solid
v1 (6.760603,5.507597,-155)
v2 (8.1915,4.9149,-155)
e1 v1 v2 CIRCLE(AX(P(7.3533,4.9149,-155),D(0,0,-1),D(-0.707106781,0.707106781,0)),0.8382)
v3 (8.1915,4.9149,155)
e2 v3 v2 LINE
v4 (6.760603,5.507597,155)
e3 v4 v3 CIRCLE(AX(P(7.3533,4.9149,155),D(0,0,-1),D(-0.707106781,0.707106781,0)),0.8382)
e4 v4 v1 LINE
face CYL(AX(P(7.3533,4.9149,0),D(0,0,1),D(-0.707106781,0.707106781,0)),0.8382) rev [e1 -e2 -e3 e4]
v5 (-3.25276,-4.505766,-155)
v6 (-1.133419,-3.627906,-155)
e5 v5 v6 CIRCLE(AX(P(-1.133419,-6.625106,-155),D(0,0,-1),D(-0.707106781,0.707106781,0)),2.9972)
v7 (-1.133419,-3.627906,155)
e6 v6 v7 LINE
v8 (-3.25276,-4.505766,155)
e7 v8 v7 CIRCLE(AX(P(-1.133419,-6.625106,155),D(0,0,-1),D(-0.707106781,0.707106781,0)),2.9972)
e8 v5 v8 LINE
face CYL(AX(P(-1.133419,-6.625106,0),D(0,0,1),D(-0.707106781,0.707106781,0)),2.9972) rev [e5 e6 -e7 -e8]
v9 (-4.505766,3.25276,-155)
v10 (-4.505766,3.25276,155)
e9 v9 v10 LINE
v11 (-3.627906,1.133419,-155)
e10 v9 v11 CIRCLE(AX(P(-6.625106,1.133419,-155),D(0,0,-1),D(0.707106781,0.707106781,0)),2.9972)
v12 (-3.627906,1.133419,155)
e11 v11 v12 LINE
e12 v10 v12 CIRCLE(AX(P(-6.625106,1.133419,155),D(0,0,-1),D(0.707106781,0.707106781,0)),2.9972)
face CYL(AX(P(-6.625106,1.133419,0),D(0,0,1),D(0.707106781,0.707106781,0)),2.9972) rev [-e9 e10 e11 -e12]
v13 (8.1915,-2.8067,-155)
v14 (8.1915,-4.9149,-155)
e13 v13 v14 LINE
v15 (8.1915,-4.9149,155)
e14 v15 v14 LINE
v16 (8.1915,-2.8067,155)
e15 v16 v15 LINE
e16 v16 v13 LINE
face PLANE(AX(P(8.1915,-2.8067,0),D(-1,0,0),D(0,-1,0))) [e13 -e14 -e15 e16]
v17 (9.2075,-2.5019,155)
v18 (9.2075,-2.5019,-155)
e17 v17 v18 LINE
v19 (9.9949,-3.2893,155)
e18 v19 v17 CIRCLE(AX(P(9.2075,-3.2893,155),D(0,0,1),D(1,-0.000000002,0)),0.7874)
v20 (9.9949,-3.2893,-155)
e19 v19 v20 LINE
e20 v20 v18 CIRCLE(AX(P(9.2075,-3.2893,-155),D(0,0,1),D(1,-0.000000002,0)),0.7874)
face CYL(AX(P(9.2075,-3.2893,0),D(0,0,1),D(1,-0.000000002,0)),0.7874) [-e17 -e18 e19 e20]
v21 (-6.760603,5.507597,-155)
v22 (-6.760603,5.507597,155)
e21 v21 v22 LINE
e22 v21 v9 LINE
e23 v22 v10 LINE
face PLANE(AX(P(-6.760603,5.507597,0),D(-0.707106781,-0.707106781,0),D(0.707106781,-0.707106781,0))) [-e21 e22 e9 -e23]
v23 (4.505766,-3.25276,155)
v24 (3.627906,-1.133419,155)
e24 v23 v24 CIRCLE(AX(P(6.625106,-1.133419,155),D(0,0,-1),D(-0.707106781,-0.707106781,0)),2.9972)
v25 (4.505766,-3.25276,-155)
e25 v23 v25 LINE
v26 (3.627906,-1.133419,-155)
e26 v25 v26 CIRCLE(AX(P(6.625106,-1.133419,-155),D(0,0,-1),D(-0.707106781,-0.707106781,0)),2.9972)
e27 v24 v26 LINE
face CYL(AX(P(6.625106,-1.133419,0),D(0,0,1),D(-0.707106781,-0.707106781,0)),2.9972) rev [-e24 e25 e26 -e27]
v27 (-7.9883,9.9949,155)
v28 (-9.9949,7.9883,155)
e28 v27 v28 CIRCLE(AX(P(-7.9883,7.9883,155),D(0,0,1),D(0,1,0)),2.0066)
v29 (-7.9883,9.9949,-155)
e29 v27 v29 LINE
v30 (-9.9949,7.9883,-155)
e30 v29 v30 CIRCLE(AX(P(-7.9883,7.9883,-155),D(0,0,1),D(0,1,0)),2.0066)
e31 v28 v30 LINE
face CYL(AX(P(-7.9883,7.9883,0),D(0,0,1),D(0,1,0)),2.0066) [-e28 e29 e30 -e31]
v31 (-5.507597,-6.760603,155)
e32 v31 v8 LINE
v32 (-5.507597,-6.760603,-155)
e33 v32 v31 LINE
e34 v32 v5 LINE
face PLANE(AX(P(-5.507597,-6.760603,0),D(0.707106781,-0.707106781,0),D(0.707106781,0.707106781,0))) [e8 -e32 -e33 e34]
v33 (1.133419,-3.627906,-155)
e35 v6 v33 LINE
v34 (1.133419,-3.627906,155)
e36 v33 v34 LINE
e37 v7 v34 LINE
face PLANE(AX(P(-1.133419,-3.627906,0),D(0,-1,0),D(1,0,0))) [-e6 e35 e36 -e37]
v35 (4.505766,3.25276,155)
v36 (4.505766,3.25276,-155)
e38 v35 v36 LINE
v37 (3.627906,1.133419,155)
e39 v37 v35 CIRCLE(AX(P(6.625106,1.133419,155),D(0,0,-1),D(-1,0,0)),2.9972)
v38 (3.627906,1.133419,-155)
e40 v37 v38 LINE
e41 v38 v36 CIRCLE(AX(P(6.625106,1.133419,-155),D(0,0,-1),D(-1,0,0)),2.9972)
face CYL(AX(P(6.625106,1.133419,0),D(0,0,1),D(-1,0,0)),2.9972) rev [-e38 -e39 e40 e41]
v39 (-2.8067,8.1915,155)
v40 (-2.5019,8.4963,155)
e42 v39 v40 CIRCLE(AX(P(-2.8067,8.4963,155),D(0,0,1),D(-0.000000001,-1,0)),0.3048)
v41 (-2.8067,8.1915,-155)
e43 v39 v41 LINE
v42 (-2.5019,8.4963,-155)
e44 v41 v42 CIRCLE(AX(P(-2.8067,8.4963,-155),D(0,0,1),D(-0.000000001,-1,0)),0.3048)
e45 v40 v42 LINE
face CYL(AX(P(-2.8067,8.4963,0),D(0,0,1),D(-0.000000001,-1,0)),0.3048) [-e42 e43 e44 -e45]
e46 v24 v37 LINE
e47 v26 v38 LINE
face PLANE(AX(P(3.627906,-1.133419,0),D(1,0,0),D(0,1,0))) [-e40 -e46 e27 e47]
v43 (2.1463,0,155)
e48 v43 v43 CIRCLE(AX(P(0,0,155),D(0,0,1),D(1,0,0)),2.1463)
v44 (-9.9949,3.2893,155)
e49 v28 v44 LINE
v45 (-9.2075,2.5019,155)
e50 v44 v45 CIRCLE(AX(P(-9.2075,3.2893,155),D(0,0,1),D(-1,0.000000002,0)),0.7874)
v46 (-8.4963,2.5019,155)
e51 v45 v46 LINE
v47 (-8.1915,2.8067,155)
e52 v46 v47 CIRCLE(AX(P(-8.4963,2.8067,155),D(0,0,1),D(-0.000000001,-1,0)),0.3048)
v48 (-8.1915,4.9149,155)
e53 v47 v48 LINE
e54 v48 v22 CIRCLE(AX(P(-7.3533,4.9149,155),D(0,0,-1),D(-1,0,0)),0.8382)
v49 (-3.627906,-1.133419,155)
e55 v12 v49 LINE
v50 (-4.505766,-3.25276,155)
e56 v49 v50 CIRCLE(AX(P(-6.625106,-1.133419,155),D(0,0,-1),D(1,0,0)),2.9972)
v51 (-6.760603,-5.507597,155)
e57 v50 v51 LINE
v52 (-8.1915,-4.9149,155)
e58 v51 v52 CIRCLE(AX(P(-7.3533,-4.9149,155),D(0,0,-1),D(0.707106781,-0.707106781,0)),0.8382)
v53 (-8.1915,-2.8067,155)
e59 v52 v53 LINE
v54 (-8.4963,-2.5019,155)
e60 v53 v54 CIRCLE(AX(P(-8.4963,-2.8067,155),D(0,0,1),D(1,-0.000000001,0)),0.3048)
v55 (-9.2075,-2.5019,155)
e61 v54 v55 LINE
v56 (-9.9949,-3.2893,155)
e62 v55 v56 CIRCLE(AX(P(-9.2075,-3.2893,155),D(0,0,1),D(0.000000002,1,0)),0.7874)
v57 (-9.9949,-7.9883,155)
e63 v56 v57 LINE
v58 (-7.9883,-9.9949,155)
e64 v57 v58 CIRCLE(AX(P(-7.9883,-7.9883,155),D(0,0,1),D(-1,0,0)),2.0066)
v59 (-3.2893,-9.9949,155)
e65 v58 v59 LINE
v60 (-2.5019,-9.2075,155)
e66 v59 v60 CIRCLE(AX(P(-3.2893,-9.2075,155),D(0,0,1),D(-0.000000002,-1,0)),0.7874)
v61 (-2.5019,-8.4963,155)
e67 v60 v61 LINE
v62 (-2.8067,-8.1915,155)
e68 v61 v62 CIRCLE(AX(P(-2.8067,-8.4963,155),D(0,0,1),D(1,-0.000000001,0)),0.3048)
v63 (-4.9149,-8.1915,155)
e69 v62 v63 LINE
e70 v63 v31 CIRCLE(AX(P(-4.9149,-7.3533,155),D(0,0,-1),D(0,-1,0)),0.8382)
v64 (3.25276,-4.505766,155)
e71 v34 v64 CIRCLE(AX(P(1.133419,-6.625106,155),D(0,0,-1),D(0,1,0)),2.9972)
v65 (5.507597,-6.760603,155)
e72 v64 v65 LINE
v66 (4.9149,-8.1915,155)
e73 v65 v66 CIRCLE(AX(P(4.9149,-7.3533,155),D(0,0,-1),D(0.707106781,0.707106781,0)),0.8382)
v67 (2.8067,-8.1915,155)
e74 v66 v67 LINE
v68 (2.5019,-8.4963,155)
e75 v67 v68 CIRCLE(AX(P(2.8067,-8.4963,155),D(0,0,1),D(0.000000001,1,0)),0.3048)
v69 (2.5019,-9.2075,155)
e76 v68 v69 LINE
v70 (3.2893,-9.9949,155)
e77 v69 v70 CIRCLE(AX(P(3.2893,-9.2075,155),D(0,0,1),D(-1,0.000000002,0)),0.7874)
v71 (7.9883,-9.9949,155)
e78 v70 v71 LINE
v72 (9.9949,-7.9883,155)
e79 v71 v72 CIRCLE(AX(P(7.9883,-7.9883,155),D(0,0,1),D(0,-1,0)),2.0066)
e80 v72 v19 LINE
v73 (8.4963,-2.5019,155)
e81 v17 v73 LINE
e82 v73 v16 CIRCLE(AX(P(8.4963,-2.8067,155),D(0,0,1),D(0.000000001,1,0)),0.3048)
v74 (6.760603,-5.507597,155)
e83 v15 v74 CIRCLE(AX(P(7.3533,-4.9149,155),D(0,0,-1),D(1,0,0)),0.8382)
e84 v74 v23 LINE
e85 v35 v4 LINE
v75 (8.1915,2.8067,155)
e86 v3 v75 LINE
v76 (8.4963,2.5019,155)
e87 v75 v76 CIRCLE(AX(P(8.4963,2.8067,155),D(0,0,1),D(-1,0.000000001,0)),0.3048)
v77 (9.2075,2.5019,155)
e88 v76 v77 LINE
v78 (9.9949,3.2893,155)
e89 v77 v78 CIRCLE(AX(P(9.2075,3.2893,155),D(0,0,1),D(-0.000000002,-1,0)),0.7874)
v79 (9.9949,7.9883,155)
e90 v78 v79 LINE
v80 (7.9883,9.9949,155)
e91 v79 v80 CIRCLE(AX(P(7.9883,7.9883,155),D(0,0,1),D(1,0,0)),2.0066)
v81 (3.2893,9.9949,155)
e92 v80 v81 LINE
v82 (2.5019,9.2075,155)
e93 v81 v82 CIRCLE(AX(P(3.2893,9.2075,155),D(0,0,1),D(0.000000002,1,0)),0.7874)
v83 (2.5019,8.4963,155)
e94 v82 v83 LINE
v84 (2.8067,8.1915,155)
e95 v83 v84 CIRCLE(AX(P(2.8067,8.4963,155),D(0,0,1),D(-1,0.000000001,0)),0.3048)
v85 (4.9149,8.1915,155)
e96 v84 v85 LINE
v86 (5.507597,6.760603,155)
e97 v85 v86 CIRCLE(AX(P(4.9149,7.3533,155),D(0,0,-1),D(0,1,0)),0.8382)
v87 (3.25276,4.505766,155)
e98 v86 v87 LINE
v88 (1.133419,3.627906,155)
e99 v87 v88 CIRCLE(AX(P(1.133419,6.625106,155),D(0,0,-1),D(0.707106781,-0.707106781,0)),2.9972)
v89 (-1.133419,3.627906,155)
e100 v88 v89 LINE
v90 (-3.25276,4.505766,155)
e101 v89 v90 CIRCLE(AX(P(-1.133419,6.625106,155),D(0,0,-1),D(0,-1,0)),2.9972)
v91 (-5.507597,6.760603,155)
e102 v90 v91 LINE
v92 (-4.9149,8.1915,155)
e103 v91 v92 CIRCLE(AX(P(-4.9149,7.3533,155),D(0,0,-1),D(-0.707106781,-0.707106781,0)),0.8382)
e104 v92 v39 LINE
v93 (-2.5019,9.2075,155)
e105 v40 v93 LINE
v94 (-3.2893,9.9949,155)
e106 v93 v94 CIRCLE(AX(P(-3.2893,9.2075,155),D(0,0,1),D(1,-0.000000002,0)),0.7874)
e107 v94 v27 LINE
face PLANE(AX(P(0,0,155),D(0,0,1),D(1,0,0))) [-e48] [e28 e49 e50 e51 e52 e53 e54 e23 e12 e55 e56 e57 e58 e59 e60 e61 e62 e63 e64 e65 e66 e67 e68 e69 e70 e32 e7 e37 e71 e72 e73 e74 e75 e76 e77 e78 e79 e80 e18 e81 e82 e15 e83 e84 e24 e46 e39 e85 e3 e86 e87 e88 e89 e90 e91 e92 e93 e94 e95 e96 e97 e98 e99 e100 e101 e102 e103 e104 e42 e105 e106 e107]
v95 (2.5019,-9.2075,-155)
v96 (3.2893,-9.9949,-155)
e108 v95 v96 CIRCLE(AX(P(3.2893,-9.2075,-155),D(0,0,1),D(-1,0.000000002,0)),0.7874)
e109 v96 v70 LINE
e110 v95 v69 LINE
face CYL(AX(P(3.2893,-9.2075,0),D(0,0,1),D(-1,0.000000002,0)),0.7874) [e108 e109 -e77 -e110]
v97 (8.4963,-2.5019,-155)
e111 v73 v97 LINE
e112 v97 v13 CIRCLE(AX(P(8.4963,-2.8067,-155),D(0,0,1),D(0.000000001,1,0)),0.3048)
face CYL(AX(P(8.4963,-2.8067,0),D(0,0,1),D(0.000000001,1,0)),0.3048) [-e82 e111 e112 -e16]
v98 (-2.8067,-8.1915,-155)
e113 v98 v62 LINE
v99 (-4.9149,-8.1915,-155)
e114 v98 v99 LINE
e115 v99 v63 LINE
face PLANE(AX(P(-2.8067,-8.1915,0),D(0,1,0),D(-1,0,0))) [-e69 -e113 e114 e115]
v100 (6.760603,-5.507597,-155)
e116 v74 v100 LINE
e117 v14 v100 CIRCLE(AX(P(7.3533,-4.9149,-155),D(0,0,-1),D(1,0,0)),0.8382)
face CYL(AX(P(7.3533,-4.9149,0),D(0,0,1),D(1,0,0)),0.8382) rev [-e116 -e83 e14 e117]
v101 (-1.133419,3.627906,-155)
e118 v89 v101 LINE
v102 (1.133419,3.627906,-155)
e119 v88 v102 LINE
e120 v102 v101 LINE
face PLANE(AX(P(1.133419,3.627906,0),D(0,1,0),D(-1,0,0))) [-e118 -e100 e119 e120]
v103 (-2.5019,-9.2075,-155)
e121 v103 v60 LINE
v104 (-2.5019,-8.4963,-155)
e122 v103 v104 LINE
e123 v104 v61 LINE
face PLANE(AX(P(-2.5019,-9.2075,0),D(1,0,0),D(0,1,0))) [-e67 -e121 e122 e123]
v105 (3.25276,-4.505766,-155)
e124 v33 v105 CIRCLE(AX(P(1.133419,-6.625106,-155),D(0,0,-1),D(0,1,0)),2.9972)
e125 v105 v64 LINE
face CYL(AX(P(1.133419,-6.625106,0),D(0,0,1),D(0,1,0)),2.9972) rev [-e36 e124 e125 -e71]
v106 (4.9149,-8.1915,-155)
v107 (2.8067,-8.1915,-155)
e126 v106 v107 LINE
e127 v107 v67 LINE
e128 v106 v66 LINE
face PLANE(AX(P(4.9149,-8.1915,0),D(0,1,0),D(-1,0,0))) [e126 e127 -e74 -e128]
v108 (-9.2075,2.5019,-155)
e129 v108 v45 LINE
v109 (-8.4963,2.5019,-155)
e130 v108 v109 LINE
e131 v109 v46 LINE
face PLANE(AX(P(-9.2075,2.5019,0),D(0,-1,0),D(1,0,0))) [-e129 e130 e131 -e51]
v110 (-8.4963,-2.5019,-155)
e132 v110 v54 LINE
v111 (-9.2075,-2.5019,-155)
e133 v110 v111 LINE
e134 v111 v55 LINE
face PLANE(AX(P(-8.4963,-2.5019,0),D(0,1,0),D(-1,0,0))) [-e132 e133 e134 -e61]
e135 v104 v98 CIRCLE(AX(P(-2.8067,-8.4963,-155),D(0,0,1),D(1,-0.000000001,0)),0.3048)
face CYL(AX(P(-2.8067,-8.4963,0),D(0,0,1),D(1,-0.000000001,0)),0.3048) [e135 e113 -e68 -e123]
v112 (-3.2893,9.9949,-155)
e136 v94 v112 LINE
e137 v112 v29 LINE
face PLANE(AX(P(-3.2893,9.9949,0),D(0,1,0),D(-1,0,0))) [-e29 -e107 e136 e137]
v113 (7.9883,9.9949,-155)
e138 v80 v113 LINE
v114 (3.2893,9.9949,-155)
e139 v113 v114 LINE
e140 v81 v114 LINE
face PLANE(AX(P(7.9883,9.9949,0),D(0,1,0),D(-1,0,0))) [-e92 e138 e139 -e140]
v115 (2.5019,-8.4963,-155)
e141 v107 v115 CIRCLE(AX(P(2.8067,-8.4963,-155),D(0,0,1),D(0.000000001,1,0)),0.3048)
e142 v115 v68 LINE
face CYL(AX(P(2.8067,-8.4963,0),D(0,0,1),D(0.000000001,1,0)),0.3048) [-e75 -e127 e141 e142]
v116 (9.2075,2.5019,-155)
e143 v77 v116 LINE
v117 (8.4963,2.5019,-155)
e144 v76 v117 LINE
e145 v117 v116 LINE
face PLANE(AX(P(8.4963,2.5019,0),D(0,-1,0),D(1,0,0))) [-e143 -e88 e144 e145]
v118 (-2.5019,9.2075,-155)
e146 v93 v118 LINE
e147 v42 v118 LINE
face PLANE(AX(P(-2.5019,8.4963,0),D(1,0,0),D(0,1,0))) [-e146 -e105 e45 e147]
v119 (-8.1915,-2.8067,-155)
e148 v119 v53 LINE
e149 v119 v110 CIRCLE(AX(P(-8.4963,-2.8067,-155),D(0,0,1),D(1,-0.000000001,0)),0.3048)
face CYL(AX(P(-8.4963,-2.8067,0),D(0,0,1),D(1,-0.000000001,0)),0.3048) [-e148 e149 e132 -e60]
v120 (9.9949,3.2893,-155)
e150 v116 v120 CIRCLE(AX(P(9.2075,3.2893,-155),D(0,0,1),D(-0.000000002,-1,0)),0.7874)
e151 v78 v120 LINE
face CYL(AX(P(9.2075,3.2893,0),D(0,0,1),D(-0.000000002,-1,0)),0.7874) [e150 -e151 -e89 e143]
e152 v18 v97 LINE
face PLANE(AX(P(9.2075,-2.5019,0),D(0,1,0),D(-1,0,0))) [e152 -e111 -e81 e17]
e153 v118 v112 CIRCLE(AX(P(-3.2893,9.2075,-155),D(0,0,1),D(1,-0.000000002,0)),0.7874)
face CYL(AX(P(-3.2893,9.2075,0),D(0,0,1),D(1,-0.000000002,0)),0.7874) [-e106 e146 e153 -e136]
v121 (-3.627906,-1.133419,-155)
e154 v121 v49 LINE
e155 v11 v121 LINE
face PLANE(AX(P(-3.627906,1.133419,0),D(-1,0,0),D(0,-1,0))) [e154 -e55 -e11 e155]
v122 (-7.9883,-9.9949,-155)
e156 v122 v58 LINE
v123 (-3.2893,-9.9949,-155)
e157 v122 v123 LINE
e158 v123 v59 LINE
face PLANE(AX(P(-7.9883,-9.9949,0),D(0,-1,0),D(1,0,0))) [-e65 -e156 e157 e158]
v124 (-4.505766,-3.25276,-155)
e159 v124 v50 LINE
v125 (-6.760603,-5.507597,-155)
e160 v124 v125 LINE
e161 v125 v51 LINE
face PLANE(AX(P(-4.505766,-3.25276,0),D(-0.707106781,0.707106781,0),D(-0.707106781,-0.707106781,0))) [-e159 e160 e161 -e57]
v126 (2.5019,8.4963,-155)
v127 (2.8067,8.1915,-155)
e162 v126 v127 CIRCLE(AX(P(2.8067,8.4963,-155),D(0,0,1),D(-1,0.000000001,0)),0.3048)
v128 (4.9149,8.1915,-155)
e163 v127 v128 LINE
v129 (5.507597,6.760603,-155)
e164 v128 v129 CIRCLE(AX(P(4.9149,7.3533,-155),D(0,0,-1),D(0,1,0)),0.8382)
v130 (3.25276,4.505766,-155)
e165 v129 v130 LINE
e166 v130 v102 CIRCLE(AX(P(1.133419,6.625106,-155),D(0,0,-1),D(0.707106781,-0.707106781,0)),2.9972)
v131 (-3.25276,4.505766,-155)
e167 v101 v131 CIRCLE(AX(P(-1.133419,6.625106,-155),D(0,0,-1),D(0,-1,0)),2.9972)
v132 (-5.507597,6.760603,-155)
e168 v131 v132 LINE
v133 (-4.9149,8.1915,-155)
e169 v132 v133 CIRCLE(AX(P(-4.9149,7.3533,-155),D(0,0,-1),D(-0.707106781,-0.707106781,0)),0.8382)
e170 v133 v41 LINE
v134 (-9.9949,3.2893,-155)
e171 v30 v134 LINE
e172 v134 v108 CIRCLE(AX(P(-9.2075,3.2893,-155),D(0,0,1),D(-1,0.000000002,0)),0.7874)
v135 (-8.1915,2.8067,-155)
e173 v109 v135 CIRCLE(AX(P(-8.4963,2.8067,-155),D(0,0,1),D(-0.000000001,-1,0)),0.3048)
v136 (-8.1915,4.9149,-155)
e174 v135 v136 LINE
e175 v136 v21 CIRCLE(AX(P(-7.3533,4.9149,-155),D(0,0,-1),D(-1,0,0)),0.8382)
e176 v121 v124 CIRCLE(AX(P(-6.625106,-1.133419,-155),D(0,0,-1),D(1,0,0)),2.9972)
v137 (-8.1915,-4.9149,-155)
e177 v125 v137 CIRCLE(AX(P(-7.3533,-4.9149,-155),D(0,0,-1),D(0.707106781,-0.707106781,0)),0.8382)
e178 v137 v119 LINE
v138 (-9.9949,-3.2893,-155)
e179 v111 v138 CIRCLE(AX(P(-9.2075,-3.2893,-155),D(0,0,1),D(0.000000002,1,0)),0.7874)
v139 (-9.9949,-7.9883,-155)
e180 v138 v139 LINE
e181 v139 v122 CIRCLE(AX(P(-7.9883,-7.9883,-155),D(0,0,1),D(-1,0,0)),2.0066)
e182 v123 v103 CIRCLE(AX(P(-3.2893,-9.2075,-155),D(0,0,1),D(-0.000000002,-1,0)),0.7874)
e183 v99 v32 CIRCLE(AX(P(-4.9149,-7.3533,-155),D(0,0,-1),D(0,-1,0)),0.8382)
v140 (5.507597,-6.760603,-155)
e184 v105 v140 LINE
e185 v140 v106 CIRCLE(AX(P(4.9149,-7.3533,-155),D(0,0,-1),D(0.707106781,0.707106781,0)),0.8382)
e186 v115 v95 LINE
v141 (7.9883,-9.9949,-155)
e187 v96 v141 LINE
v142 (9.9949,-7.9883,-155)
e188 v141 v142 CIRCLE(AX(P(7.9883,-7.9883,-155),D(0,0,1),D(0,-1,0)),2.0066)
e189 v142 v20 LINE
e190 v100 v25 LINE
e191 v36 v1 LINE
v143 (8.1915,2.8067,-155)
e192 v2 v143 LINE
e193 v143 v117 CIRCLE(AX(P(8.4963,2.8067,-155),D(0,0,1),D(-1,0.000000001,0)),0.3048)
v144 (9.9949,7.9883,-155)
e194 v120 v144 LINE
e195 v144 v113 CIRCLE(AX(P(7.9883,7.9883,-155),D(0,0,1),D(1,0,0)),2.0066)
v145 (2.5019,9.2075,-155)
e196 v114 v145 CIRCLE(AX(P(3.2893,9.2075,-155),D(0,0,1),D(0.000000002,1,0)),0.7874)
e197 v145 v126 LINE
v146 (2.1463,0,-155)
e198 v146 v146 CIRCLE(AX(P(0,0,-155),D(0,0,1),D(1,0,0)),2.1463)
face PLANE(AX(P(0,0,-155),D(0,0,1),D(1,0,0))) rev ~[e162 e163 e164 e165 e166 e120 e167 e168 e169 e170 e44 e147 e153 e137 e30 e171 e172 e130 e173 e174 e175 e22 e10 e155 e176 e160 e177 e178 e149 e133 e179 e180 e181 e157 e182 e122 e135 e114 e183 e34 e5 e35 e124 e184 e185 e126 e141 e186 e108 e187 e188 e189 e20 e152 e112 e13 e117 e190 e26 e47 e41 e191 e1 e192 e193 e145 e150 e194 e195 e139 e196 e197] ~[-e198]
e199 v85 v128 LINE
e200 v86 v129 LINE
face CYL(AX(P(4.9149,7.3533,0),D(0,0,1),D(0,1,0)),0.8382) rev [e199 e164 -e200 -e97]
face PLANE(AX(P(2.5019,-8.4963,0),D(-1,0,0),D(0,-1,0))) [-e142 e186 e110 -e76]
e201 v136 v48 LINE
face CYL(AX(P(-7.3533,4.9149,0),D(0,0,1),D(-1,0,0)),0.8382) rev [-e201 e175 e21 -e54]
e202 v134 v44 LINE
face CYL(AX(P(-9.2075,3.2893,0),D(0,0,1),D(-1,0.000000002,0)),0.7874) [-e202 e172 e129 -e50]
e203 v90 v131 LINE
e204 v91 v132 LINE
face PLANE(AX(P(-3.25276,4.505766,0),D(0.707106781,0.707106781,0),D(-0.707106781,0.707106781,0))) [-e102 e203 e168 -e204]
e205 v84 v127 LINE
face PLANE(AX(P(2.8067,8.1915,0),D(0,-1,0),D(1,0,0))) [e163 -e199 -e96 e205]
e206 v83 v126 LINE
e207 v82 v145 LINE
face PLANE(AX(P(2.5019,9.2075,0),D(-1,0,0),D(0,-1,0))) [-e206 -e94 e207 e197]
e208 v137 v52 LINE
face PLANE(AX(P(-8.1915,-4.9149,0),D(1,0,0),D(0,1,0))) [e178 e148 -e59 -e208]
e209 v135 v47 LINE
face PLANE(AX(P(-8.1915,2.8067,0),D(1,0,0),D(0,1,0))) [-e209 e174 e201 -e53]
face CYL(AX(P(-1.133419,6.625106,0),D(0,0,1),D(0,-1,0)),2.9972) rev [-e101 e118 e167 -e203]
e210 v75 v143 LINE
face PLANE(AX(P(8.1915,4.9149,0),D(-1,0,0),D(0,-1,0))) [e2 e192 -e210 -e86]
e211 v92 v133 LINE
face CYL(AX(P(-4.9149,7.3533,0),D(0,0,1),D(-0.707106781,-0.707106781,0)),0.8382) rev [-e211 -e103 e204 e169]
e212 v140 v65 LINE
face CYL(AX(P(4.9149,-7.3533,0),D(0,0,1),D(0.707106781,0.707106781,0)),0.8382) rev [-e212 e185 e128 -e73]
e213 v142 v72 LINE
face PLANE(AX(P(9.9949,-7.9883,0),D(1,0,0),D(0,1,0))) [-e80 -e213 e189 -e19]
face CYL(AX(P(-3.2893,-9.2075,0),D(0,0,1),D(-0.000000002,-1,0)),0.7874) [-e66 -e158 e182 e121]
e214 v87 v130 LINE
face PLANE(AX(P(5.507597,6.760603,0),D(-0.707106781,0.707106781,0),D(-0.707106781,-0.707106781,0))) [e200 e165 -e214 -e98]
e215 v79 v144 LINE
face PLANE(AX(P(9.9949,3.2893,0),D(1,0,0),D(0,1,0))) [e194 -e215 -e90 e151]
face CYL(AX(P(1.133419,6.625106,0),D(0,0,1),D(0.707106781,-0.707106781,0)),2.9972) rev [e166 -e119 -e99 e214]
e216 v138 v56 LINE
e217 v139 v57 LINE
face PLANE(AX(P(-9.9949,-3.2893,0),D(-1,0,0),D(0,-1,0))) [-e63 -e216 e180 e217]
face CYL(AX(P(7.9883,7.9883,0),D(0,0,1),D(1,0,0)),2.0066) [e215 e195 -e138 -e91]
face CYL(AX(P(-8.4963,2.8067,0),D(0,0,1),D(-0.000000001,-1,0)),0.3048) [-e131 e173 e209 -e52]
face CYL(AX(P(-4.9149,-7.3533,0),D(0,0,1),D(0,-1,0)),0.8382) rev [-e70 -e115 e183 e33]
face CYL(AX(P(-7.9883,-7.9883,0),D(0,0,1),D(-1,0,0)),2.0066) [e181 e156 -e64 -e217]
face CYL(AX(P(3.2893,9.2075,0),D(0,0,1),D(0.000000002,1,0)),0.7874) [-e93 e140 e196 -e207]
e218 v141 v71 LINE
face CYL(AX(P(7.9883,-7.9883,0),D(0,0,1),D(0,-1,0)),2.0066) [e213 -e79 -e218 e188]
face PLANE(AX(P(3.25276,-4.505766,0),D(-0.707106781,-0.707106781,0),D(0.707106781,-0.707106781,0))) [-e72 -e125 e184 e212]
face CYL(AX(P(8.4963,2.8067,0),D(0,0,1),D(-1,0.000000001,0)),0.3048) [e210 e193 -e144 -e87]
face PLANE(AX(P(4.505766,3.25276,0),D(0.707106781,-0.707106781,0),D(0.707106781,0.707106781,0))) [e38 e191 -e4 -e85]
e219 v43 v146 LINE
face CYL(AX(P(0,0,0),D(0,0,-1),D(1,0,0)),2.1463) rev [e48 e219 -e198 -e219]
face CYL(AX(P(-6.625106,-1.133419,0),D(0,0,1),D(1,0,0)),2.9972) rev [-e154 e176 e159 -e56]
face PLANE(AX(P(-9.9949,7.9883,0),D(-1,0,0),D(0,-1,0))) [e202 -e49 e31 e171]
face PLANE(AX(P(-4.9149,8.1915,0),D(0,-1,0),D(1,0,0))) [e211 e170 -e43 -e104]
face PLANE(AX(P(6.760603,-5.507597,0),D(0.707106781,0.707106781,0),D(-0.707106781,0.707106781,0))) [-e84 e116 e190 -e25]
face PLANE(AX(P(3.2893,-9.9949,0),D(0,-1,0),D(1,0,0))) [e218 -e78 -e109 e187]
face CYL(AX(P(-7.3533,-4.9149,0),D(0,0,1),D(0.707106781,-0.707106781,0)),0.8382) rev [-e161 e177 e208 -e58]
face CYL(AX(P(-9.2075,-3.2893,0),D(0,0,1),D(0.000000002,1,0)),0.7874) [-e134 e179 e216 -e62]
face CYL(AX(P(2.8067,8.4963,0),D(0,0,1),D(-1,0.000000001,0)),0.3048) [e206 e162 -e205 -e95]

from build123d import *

# Parameters (mm, degrees)
SKETCH1_R           = 2.1463
BOSS_EXTRUDE1_DEPTH = 155


with BuildPart() as part:
    # Sketch1 → Boss-Extrude1 (new, symmetric)
    with BuildSketch(Plane.XY):
        with BuildLine():
            Line((-9.9949, 7.9883), (-9.9949, 3.2893))
            ThreePointArc((-9.9949, 3.2893), (-9.76427588, 2.73252412), (-9.2075, 2.5019))
            Line((-9.2075, 2.5019), (-8.4963, 2.5019))
            ThreePointArc((-8.4963, 2.5019), (-8.280773853, 2.591173853), (-8.1915, 2.8067))
            Line((-8.1915, 2.8067), (-8.1915, 4.9149))
            ThreePointArc((-8.1915, 4.9149), (-7.674065253, 5.689295824), (-6.760603096, 5.507596904))
            Line((-6.760603096, 5.507596904), (-4.505765747, 3.252759555))
            ThreePointArc((-4.505765747, 3.252759555), (-3.856054457, 2.280397894), (-3.627906192, 1.133419111))
            Line((-3.627906192, 1.133419111), (-3.627906192, -1.133419111))
            ThreePointArc((-3.627906192, -1.133419111), (-3.856054457, -2.280397894), (-4.505765747, -3.252759555))
            Line((-4.505765747, -3.252759555), (-6.760603096, -5.507596904))
            ThreePointArc((-6.760603096, -5.507596904), (-7.674065253, -5.689295824), (-8.1915, -4.9149))
            Line((-8.1915, -4.9149), (-8.1915, -2.8067))
            ThreePointArc((-8.1915, -2.8067), (-8.280773853, -2.591173853), (-8.4963, -2.5019))
            Line((-8.4963, -2.5019), (-9.2075, -2.5019))
            ThreePointArc((-9.2075, -2.5019), (-9.76427588, -2.73252412), (-9.9949, -3.2893))
            Line((-9.9949, -3.2893), (-9.9949, -7.9883))
            ThreePointArc((-9.9949, -7.9883), (-9.407180467, -9.407180467), (-7.9883, -9.9949))
            Line((-7.9883, -9.9949), (-3.2893, -9.9949))
            ThreePointArc((-3.2893, -9.9949), (-2.73252412, -9.76427588), (-2.5019, -9.2075))
            Line((-2.5019, -9.2075), (-2.5019, -8.4963))
            ThreePointArc((-2.5019, -8.4963), (-2.591173853, -8.280773853), (-2.8067, -8.1915))
            Line((-2.8067, -8.1915), (-4.9149, -8.1915))
            ThreePointArc((-4.9149, -8.1915), (-5.689295824, -7.674065253), (-5.507596904, -6.760603096))
            Line((-5.507596904, -6.760603096), (-3.252759555, -4.505765747))
            ThreePointArc((-3.252759555, -4.505765747), (-2.280397894, -3.856054457), (-1.133419111, -3.627906192))
            Line((-1.133419111, -3.627906192), (1.133419111, -3.627906192))
            ThreePointArc((1.133419111, -3.627906192), (2.280397894, -3.856054457), (3.252759555, -4.505765747))
            Line((3.252759555, -4.505765747), (5.507596904, -6.760603096))
            ThreePointArc((5.507596904, -6.760603096), (5.689295824, -7.674065253), (4.9149, -8.1915))
            Line((4.9149, -8.1915), (2.8067, -8.1915))
            ThreePointArc((2.8067, -8.1915), (2.591173853, -8.280773853), (2.5019, -8.4963))
            Line((2.5019, -8.4963), (2.5019, -9.2075))
            ThreePointArc((2.5019, -9.2075), (2.73252412, -9.76427588), (3.2893, -9.9949))
            Line((3.2893, -9.9949), (7.9883, -9.9949))
            ThreePointArc((7.9883, -9.9949), (9.407180467, -9.407180467), (9.9949, -7.9883))
            Line((9.9949, -7.9883), (9.9949, -3.2893))
            ThreePointArc((9.9949, -3.2893), (9.76427588, -2.73252412), (9.2075, -2.5019))
            Line((9.2075, -2.5019), (8.4963, -2.5019))
            ThreePointArc((8.4963, -2.5019), (8.280773853, -2.591173853), (8.1915, -2.8067))
            Line((8.1915, -2.8067), (8.1915, -4.9149))
            ThreePointArc((8.1915, -4.9149), (7.674065253, -5.689295824), (6.760603096, -5.507596904))
            Line((6.760603096, -5.507596904), (4.505765747, -3.252759555))
            ThreePointArc((4.505765747, -3.252759555), (3.856054457, -2.280397894), (3.627906192, -1.133419111))
            Line((3.627906192, -1.133419111), (3.627906192, 1.133419111))
            ThreePointArc((3.627906192, 1.133419111), (3.856054457, 2.280397894), (4.505765747, 3.252759555))
            Line((4.505765747, 3.252759555), (6.760603096, 5.507596904))
            ThreePointArc((6.760603096, 5.507596904), (7.674065253, 5.689295824), (8.1915, 4.9149))
            Line((8.1915, 4.9149), (8.1915, 2.8067))
            ThreePointArc((8.1915, 2.8067), (8.280773853, 2.591173853), (8.4963, 2.5019))
            Line((8.4963, 2.5019), (9.2075, 2.5019))
            ThreePointArc((9.2075, 2.5019), (9.76427588, 2.73252412), (9.9949, 3.2893))
            Line((9.9949, 3.2893), (9.9949, 7.9883))
            ThreePointArc((9.9949, 7.9883), (9.407180467, 9.407180467), (7.9883, 9.9949))
            Line((7.9883, 9.9949), (3.2893, 9.9949))
            ThreePointArc((3.2893, 9.9949), (2.73252412, 9.76427588), (2.5019, 9.2075))
            Line((2.5019, 9.2075), (2.5019, 8.4963))
            ThreePointArc((2.5019, 8.4963), (2.591173853, 8.280773853), (2.8067, 8.1915))
            Line((2.8067, 8.1915), (4.9149, 8.1915))
            ThreePointArc((4.9149, 8.1915), (5.689295824, 7.674065253), (5.507596904, 6.760603096))
            Line((5.507596904, 6.760603096), (3.252759555, 4.505765747))
            ThreePointArc((3.252759555, 4.505765747), (2.280397894, 3.856054457), (1.133419111, 3.627906192))
            Line((1.133419111, 3.627906192), (-1.133419111, 3.627906192))
            ThreePointArc((-1.133419111, 3.627906192), (-2.280397894, 3.856054457), (-3.252759555, 4.505765747))
            Line((-3.252759555, 4.505765747), (-5.507596904, 6.760603096))
            ThreePointArc((-5.507596904, 6.760603096), (-5.689295824, 7.674065253), (-4.9149, 8.1915))
            Line((-4.9149, 8.1915), (-2.8067, 8.1915))
            ThreePointArc((-2.8067, 8.1915), (-2.591173853, 8.280773853), (-2.5019, 8.4963))
            Line((-2.5019, 8.4963), (-2.5019, 9.2075))
            ThreePointArc((-2.5019, 9.2075), (-2.73252412, 9.76427588), (-3.2893, 9.9949))
            Line((-3.2893, 9.9949), (-7.9883, 9.9949))
            ThreePointArc((-7.9883, 9.9949), (-9.407180467, 9.407180467), (-9.9949, 7.9883))
        make_face()
        Circle(SKETCH1_R, mode=Mode.SUBTRACT)
    extrude(amount=BOSS_EXTRUDE1_DEPTH, both=True)


solid = part.part
